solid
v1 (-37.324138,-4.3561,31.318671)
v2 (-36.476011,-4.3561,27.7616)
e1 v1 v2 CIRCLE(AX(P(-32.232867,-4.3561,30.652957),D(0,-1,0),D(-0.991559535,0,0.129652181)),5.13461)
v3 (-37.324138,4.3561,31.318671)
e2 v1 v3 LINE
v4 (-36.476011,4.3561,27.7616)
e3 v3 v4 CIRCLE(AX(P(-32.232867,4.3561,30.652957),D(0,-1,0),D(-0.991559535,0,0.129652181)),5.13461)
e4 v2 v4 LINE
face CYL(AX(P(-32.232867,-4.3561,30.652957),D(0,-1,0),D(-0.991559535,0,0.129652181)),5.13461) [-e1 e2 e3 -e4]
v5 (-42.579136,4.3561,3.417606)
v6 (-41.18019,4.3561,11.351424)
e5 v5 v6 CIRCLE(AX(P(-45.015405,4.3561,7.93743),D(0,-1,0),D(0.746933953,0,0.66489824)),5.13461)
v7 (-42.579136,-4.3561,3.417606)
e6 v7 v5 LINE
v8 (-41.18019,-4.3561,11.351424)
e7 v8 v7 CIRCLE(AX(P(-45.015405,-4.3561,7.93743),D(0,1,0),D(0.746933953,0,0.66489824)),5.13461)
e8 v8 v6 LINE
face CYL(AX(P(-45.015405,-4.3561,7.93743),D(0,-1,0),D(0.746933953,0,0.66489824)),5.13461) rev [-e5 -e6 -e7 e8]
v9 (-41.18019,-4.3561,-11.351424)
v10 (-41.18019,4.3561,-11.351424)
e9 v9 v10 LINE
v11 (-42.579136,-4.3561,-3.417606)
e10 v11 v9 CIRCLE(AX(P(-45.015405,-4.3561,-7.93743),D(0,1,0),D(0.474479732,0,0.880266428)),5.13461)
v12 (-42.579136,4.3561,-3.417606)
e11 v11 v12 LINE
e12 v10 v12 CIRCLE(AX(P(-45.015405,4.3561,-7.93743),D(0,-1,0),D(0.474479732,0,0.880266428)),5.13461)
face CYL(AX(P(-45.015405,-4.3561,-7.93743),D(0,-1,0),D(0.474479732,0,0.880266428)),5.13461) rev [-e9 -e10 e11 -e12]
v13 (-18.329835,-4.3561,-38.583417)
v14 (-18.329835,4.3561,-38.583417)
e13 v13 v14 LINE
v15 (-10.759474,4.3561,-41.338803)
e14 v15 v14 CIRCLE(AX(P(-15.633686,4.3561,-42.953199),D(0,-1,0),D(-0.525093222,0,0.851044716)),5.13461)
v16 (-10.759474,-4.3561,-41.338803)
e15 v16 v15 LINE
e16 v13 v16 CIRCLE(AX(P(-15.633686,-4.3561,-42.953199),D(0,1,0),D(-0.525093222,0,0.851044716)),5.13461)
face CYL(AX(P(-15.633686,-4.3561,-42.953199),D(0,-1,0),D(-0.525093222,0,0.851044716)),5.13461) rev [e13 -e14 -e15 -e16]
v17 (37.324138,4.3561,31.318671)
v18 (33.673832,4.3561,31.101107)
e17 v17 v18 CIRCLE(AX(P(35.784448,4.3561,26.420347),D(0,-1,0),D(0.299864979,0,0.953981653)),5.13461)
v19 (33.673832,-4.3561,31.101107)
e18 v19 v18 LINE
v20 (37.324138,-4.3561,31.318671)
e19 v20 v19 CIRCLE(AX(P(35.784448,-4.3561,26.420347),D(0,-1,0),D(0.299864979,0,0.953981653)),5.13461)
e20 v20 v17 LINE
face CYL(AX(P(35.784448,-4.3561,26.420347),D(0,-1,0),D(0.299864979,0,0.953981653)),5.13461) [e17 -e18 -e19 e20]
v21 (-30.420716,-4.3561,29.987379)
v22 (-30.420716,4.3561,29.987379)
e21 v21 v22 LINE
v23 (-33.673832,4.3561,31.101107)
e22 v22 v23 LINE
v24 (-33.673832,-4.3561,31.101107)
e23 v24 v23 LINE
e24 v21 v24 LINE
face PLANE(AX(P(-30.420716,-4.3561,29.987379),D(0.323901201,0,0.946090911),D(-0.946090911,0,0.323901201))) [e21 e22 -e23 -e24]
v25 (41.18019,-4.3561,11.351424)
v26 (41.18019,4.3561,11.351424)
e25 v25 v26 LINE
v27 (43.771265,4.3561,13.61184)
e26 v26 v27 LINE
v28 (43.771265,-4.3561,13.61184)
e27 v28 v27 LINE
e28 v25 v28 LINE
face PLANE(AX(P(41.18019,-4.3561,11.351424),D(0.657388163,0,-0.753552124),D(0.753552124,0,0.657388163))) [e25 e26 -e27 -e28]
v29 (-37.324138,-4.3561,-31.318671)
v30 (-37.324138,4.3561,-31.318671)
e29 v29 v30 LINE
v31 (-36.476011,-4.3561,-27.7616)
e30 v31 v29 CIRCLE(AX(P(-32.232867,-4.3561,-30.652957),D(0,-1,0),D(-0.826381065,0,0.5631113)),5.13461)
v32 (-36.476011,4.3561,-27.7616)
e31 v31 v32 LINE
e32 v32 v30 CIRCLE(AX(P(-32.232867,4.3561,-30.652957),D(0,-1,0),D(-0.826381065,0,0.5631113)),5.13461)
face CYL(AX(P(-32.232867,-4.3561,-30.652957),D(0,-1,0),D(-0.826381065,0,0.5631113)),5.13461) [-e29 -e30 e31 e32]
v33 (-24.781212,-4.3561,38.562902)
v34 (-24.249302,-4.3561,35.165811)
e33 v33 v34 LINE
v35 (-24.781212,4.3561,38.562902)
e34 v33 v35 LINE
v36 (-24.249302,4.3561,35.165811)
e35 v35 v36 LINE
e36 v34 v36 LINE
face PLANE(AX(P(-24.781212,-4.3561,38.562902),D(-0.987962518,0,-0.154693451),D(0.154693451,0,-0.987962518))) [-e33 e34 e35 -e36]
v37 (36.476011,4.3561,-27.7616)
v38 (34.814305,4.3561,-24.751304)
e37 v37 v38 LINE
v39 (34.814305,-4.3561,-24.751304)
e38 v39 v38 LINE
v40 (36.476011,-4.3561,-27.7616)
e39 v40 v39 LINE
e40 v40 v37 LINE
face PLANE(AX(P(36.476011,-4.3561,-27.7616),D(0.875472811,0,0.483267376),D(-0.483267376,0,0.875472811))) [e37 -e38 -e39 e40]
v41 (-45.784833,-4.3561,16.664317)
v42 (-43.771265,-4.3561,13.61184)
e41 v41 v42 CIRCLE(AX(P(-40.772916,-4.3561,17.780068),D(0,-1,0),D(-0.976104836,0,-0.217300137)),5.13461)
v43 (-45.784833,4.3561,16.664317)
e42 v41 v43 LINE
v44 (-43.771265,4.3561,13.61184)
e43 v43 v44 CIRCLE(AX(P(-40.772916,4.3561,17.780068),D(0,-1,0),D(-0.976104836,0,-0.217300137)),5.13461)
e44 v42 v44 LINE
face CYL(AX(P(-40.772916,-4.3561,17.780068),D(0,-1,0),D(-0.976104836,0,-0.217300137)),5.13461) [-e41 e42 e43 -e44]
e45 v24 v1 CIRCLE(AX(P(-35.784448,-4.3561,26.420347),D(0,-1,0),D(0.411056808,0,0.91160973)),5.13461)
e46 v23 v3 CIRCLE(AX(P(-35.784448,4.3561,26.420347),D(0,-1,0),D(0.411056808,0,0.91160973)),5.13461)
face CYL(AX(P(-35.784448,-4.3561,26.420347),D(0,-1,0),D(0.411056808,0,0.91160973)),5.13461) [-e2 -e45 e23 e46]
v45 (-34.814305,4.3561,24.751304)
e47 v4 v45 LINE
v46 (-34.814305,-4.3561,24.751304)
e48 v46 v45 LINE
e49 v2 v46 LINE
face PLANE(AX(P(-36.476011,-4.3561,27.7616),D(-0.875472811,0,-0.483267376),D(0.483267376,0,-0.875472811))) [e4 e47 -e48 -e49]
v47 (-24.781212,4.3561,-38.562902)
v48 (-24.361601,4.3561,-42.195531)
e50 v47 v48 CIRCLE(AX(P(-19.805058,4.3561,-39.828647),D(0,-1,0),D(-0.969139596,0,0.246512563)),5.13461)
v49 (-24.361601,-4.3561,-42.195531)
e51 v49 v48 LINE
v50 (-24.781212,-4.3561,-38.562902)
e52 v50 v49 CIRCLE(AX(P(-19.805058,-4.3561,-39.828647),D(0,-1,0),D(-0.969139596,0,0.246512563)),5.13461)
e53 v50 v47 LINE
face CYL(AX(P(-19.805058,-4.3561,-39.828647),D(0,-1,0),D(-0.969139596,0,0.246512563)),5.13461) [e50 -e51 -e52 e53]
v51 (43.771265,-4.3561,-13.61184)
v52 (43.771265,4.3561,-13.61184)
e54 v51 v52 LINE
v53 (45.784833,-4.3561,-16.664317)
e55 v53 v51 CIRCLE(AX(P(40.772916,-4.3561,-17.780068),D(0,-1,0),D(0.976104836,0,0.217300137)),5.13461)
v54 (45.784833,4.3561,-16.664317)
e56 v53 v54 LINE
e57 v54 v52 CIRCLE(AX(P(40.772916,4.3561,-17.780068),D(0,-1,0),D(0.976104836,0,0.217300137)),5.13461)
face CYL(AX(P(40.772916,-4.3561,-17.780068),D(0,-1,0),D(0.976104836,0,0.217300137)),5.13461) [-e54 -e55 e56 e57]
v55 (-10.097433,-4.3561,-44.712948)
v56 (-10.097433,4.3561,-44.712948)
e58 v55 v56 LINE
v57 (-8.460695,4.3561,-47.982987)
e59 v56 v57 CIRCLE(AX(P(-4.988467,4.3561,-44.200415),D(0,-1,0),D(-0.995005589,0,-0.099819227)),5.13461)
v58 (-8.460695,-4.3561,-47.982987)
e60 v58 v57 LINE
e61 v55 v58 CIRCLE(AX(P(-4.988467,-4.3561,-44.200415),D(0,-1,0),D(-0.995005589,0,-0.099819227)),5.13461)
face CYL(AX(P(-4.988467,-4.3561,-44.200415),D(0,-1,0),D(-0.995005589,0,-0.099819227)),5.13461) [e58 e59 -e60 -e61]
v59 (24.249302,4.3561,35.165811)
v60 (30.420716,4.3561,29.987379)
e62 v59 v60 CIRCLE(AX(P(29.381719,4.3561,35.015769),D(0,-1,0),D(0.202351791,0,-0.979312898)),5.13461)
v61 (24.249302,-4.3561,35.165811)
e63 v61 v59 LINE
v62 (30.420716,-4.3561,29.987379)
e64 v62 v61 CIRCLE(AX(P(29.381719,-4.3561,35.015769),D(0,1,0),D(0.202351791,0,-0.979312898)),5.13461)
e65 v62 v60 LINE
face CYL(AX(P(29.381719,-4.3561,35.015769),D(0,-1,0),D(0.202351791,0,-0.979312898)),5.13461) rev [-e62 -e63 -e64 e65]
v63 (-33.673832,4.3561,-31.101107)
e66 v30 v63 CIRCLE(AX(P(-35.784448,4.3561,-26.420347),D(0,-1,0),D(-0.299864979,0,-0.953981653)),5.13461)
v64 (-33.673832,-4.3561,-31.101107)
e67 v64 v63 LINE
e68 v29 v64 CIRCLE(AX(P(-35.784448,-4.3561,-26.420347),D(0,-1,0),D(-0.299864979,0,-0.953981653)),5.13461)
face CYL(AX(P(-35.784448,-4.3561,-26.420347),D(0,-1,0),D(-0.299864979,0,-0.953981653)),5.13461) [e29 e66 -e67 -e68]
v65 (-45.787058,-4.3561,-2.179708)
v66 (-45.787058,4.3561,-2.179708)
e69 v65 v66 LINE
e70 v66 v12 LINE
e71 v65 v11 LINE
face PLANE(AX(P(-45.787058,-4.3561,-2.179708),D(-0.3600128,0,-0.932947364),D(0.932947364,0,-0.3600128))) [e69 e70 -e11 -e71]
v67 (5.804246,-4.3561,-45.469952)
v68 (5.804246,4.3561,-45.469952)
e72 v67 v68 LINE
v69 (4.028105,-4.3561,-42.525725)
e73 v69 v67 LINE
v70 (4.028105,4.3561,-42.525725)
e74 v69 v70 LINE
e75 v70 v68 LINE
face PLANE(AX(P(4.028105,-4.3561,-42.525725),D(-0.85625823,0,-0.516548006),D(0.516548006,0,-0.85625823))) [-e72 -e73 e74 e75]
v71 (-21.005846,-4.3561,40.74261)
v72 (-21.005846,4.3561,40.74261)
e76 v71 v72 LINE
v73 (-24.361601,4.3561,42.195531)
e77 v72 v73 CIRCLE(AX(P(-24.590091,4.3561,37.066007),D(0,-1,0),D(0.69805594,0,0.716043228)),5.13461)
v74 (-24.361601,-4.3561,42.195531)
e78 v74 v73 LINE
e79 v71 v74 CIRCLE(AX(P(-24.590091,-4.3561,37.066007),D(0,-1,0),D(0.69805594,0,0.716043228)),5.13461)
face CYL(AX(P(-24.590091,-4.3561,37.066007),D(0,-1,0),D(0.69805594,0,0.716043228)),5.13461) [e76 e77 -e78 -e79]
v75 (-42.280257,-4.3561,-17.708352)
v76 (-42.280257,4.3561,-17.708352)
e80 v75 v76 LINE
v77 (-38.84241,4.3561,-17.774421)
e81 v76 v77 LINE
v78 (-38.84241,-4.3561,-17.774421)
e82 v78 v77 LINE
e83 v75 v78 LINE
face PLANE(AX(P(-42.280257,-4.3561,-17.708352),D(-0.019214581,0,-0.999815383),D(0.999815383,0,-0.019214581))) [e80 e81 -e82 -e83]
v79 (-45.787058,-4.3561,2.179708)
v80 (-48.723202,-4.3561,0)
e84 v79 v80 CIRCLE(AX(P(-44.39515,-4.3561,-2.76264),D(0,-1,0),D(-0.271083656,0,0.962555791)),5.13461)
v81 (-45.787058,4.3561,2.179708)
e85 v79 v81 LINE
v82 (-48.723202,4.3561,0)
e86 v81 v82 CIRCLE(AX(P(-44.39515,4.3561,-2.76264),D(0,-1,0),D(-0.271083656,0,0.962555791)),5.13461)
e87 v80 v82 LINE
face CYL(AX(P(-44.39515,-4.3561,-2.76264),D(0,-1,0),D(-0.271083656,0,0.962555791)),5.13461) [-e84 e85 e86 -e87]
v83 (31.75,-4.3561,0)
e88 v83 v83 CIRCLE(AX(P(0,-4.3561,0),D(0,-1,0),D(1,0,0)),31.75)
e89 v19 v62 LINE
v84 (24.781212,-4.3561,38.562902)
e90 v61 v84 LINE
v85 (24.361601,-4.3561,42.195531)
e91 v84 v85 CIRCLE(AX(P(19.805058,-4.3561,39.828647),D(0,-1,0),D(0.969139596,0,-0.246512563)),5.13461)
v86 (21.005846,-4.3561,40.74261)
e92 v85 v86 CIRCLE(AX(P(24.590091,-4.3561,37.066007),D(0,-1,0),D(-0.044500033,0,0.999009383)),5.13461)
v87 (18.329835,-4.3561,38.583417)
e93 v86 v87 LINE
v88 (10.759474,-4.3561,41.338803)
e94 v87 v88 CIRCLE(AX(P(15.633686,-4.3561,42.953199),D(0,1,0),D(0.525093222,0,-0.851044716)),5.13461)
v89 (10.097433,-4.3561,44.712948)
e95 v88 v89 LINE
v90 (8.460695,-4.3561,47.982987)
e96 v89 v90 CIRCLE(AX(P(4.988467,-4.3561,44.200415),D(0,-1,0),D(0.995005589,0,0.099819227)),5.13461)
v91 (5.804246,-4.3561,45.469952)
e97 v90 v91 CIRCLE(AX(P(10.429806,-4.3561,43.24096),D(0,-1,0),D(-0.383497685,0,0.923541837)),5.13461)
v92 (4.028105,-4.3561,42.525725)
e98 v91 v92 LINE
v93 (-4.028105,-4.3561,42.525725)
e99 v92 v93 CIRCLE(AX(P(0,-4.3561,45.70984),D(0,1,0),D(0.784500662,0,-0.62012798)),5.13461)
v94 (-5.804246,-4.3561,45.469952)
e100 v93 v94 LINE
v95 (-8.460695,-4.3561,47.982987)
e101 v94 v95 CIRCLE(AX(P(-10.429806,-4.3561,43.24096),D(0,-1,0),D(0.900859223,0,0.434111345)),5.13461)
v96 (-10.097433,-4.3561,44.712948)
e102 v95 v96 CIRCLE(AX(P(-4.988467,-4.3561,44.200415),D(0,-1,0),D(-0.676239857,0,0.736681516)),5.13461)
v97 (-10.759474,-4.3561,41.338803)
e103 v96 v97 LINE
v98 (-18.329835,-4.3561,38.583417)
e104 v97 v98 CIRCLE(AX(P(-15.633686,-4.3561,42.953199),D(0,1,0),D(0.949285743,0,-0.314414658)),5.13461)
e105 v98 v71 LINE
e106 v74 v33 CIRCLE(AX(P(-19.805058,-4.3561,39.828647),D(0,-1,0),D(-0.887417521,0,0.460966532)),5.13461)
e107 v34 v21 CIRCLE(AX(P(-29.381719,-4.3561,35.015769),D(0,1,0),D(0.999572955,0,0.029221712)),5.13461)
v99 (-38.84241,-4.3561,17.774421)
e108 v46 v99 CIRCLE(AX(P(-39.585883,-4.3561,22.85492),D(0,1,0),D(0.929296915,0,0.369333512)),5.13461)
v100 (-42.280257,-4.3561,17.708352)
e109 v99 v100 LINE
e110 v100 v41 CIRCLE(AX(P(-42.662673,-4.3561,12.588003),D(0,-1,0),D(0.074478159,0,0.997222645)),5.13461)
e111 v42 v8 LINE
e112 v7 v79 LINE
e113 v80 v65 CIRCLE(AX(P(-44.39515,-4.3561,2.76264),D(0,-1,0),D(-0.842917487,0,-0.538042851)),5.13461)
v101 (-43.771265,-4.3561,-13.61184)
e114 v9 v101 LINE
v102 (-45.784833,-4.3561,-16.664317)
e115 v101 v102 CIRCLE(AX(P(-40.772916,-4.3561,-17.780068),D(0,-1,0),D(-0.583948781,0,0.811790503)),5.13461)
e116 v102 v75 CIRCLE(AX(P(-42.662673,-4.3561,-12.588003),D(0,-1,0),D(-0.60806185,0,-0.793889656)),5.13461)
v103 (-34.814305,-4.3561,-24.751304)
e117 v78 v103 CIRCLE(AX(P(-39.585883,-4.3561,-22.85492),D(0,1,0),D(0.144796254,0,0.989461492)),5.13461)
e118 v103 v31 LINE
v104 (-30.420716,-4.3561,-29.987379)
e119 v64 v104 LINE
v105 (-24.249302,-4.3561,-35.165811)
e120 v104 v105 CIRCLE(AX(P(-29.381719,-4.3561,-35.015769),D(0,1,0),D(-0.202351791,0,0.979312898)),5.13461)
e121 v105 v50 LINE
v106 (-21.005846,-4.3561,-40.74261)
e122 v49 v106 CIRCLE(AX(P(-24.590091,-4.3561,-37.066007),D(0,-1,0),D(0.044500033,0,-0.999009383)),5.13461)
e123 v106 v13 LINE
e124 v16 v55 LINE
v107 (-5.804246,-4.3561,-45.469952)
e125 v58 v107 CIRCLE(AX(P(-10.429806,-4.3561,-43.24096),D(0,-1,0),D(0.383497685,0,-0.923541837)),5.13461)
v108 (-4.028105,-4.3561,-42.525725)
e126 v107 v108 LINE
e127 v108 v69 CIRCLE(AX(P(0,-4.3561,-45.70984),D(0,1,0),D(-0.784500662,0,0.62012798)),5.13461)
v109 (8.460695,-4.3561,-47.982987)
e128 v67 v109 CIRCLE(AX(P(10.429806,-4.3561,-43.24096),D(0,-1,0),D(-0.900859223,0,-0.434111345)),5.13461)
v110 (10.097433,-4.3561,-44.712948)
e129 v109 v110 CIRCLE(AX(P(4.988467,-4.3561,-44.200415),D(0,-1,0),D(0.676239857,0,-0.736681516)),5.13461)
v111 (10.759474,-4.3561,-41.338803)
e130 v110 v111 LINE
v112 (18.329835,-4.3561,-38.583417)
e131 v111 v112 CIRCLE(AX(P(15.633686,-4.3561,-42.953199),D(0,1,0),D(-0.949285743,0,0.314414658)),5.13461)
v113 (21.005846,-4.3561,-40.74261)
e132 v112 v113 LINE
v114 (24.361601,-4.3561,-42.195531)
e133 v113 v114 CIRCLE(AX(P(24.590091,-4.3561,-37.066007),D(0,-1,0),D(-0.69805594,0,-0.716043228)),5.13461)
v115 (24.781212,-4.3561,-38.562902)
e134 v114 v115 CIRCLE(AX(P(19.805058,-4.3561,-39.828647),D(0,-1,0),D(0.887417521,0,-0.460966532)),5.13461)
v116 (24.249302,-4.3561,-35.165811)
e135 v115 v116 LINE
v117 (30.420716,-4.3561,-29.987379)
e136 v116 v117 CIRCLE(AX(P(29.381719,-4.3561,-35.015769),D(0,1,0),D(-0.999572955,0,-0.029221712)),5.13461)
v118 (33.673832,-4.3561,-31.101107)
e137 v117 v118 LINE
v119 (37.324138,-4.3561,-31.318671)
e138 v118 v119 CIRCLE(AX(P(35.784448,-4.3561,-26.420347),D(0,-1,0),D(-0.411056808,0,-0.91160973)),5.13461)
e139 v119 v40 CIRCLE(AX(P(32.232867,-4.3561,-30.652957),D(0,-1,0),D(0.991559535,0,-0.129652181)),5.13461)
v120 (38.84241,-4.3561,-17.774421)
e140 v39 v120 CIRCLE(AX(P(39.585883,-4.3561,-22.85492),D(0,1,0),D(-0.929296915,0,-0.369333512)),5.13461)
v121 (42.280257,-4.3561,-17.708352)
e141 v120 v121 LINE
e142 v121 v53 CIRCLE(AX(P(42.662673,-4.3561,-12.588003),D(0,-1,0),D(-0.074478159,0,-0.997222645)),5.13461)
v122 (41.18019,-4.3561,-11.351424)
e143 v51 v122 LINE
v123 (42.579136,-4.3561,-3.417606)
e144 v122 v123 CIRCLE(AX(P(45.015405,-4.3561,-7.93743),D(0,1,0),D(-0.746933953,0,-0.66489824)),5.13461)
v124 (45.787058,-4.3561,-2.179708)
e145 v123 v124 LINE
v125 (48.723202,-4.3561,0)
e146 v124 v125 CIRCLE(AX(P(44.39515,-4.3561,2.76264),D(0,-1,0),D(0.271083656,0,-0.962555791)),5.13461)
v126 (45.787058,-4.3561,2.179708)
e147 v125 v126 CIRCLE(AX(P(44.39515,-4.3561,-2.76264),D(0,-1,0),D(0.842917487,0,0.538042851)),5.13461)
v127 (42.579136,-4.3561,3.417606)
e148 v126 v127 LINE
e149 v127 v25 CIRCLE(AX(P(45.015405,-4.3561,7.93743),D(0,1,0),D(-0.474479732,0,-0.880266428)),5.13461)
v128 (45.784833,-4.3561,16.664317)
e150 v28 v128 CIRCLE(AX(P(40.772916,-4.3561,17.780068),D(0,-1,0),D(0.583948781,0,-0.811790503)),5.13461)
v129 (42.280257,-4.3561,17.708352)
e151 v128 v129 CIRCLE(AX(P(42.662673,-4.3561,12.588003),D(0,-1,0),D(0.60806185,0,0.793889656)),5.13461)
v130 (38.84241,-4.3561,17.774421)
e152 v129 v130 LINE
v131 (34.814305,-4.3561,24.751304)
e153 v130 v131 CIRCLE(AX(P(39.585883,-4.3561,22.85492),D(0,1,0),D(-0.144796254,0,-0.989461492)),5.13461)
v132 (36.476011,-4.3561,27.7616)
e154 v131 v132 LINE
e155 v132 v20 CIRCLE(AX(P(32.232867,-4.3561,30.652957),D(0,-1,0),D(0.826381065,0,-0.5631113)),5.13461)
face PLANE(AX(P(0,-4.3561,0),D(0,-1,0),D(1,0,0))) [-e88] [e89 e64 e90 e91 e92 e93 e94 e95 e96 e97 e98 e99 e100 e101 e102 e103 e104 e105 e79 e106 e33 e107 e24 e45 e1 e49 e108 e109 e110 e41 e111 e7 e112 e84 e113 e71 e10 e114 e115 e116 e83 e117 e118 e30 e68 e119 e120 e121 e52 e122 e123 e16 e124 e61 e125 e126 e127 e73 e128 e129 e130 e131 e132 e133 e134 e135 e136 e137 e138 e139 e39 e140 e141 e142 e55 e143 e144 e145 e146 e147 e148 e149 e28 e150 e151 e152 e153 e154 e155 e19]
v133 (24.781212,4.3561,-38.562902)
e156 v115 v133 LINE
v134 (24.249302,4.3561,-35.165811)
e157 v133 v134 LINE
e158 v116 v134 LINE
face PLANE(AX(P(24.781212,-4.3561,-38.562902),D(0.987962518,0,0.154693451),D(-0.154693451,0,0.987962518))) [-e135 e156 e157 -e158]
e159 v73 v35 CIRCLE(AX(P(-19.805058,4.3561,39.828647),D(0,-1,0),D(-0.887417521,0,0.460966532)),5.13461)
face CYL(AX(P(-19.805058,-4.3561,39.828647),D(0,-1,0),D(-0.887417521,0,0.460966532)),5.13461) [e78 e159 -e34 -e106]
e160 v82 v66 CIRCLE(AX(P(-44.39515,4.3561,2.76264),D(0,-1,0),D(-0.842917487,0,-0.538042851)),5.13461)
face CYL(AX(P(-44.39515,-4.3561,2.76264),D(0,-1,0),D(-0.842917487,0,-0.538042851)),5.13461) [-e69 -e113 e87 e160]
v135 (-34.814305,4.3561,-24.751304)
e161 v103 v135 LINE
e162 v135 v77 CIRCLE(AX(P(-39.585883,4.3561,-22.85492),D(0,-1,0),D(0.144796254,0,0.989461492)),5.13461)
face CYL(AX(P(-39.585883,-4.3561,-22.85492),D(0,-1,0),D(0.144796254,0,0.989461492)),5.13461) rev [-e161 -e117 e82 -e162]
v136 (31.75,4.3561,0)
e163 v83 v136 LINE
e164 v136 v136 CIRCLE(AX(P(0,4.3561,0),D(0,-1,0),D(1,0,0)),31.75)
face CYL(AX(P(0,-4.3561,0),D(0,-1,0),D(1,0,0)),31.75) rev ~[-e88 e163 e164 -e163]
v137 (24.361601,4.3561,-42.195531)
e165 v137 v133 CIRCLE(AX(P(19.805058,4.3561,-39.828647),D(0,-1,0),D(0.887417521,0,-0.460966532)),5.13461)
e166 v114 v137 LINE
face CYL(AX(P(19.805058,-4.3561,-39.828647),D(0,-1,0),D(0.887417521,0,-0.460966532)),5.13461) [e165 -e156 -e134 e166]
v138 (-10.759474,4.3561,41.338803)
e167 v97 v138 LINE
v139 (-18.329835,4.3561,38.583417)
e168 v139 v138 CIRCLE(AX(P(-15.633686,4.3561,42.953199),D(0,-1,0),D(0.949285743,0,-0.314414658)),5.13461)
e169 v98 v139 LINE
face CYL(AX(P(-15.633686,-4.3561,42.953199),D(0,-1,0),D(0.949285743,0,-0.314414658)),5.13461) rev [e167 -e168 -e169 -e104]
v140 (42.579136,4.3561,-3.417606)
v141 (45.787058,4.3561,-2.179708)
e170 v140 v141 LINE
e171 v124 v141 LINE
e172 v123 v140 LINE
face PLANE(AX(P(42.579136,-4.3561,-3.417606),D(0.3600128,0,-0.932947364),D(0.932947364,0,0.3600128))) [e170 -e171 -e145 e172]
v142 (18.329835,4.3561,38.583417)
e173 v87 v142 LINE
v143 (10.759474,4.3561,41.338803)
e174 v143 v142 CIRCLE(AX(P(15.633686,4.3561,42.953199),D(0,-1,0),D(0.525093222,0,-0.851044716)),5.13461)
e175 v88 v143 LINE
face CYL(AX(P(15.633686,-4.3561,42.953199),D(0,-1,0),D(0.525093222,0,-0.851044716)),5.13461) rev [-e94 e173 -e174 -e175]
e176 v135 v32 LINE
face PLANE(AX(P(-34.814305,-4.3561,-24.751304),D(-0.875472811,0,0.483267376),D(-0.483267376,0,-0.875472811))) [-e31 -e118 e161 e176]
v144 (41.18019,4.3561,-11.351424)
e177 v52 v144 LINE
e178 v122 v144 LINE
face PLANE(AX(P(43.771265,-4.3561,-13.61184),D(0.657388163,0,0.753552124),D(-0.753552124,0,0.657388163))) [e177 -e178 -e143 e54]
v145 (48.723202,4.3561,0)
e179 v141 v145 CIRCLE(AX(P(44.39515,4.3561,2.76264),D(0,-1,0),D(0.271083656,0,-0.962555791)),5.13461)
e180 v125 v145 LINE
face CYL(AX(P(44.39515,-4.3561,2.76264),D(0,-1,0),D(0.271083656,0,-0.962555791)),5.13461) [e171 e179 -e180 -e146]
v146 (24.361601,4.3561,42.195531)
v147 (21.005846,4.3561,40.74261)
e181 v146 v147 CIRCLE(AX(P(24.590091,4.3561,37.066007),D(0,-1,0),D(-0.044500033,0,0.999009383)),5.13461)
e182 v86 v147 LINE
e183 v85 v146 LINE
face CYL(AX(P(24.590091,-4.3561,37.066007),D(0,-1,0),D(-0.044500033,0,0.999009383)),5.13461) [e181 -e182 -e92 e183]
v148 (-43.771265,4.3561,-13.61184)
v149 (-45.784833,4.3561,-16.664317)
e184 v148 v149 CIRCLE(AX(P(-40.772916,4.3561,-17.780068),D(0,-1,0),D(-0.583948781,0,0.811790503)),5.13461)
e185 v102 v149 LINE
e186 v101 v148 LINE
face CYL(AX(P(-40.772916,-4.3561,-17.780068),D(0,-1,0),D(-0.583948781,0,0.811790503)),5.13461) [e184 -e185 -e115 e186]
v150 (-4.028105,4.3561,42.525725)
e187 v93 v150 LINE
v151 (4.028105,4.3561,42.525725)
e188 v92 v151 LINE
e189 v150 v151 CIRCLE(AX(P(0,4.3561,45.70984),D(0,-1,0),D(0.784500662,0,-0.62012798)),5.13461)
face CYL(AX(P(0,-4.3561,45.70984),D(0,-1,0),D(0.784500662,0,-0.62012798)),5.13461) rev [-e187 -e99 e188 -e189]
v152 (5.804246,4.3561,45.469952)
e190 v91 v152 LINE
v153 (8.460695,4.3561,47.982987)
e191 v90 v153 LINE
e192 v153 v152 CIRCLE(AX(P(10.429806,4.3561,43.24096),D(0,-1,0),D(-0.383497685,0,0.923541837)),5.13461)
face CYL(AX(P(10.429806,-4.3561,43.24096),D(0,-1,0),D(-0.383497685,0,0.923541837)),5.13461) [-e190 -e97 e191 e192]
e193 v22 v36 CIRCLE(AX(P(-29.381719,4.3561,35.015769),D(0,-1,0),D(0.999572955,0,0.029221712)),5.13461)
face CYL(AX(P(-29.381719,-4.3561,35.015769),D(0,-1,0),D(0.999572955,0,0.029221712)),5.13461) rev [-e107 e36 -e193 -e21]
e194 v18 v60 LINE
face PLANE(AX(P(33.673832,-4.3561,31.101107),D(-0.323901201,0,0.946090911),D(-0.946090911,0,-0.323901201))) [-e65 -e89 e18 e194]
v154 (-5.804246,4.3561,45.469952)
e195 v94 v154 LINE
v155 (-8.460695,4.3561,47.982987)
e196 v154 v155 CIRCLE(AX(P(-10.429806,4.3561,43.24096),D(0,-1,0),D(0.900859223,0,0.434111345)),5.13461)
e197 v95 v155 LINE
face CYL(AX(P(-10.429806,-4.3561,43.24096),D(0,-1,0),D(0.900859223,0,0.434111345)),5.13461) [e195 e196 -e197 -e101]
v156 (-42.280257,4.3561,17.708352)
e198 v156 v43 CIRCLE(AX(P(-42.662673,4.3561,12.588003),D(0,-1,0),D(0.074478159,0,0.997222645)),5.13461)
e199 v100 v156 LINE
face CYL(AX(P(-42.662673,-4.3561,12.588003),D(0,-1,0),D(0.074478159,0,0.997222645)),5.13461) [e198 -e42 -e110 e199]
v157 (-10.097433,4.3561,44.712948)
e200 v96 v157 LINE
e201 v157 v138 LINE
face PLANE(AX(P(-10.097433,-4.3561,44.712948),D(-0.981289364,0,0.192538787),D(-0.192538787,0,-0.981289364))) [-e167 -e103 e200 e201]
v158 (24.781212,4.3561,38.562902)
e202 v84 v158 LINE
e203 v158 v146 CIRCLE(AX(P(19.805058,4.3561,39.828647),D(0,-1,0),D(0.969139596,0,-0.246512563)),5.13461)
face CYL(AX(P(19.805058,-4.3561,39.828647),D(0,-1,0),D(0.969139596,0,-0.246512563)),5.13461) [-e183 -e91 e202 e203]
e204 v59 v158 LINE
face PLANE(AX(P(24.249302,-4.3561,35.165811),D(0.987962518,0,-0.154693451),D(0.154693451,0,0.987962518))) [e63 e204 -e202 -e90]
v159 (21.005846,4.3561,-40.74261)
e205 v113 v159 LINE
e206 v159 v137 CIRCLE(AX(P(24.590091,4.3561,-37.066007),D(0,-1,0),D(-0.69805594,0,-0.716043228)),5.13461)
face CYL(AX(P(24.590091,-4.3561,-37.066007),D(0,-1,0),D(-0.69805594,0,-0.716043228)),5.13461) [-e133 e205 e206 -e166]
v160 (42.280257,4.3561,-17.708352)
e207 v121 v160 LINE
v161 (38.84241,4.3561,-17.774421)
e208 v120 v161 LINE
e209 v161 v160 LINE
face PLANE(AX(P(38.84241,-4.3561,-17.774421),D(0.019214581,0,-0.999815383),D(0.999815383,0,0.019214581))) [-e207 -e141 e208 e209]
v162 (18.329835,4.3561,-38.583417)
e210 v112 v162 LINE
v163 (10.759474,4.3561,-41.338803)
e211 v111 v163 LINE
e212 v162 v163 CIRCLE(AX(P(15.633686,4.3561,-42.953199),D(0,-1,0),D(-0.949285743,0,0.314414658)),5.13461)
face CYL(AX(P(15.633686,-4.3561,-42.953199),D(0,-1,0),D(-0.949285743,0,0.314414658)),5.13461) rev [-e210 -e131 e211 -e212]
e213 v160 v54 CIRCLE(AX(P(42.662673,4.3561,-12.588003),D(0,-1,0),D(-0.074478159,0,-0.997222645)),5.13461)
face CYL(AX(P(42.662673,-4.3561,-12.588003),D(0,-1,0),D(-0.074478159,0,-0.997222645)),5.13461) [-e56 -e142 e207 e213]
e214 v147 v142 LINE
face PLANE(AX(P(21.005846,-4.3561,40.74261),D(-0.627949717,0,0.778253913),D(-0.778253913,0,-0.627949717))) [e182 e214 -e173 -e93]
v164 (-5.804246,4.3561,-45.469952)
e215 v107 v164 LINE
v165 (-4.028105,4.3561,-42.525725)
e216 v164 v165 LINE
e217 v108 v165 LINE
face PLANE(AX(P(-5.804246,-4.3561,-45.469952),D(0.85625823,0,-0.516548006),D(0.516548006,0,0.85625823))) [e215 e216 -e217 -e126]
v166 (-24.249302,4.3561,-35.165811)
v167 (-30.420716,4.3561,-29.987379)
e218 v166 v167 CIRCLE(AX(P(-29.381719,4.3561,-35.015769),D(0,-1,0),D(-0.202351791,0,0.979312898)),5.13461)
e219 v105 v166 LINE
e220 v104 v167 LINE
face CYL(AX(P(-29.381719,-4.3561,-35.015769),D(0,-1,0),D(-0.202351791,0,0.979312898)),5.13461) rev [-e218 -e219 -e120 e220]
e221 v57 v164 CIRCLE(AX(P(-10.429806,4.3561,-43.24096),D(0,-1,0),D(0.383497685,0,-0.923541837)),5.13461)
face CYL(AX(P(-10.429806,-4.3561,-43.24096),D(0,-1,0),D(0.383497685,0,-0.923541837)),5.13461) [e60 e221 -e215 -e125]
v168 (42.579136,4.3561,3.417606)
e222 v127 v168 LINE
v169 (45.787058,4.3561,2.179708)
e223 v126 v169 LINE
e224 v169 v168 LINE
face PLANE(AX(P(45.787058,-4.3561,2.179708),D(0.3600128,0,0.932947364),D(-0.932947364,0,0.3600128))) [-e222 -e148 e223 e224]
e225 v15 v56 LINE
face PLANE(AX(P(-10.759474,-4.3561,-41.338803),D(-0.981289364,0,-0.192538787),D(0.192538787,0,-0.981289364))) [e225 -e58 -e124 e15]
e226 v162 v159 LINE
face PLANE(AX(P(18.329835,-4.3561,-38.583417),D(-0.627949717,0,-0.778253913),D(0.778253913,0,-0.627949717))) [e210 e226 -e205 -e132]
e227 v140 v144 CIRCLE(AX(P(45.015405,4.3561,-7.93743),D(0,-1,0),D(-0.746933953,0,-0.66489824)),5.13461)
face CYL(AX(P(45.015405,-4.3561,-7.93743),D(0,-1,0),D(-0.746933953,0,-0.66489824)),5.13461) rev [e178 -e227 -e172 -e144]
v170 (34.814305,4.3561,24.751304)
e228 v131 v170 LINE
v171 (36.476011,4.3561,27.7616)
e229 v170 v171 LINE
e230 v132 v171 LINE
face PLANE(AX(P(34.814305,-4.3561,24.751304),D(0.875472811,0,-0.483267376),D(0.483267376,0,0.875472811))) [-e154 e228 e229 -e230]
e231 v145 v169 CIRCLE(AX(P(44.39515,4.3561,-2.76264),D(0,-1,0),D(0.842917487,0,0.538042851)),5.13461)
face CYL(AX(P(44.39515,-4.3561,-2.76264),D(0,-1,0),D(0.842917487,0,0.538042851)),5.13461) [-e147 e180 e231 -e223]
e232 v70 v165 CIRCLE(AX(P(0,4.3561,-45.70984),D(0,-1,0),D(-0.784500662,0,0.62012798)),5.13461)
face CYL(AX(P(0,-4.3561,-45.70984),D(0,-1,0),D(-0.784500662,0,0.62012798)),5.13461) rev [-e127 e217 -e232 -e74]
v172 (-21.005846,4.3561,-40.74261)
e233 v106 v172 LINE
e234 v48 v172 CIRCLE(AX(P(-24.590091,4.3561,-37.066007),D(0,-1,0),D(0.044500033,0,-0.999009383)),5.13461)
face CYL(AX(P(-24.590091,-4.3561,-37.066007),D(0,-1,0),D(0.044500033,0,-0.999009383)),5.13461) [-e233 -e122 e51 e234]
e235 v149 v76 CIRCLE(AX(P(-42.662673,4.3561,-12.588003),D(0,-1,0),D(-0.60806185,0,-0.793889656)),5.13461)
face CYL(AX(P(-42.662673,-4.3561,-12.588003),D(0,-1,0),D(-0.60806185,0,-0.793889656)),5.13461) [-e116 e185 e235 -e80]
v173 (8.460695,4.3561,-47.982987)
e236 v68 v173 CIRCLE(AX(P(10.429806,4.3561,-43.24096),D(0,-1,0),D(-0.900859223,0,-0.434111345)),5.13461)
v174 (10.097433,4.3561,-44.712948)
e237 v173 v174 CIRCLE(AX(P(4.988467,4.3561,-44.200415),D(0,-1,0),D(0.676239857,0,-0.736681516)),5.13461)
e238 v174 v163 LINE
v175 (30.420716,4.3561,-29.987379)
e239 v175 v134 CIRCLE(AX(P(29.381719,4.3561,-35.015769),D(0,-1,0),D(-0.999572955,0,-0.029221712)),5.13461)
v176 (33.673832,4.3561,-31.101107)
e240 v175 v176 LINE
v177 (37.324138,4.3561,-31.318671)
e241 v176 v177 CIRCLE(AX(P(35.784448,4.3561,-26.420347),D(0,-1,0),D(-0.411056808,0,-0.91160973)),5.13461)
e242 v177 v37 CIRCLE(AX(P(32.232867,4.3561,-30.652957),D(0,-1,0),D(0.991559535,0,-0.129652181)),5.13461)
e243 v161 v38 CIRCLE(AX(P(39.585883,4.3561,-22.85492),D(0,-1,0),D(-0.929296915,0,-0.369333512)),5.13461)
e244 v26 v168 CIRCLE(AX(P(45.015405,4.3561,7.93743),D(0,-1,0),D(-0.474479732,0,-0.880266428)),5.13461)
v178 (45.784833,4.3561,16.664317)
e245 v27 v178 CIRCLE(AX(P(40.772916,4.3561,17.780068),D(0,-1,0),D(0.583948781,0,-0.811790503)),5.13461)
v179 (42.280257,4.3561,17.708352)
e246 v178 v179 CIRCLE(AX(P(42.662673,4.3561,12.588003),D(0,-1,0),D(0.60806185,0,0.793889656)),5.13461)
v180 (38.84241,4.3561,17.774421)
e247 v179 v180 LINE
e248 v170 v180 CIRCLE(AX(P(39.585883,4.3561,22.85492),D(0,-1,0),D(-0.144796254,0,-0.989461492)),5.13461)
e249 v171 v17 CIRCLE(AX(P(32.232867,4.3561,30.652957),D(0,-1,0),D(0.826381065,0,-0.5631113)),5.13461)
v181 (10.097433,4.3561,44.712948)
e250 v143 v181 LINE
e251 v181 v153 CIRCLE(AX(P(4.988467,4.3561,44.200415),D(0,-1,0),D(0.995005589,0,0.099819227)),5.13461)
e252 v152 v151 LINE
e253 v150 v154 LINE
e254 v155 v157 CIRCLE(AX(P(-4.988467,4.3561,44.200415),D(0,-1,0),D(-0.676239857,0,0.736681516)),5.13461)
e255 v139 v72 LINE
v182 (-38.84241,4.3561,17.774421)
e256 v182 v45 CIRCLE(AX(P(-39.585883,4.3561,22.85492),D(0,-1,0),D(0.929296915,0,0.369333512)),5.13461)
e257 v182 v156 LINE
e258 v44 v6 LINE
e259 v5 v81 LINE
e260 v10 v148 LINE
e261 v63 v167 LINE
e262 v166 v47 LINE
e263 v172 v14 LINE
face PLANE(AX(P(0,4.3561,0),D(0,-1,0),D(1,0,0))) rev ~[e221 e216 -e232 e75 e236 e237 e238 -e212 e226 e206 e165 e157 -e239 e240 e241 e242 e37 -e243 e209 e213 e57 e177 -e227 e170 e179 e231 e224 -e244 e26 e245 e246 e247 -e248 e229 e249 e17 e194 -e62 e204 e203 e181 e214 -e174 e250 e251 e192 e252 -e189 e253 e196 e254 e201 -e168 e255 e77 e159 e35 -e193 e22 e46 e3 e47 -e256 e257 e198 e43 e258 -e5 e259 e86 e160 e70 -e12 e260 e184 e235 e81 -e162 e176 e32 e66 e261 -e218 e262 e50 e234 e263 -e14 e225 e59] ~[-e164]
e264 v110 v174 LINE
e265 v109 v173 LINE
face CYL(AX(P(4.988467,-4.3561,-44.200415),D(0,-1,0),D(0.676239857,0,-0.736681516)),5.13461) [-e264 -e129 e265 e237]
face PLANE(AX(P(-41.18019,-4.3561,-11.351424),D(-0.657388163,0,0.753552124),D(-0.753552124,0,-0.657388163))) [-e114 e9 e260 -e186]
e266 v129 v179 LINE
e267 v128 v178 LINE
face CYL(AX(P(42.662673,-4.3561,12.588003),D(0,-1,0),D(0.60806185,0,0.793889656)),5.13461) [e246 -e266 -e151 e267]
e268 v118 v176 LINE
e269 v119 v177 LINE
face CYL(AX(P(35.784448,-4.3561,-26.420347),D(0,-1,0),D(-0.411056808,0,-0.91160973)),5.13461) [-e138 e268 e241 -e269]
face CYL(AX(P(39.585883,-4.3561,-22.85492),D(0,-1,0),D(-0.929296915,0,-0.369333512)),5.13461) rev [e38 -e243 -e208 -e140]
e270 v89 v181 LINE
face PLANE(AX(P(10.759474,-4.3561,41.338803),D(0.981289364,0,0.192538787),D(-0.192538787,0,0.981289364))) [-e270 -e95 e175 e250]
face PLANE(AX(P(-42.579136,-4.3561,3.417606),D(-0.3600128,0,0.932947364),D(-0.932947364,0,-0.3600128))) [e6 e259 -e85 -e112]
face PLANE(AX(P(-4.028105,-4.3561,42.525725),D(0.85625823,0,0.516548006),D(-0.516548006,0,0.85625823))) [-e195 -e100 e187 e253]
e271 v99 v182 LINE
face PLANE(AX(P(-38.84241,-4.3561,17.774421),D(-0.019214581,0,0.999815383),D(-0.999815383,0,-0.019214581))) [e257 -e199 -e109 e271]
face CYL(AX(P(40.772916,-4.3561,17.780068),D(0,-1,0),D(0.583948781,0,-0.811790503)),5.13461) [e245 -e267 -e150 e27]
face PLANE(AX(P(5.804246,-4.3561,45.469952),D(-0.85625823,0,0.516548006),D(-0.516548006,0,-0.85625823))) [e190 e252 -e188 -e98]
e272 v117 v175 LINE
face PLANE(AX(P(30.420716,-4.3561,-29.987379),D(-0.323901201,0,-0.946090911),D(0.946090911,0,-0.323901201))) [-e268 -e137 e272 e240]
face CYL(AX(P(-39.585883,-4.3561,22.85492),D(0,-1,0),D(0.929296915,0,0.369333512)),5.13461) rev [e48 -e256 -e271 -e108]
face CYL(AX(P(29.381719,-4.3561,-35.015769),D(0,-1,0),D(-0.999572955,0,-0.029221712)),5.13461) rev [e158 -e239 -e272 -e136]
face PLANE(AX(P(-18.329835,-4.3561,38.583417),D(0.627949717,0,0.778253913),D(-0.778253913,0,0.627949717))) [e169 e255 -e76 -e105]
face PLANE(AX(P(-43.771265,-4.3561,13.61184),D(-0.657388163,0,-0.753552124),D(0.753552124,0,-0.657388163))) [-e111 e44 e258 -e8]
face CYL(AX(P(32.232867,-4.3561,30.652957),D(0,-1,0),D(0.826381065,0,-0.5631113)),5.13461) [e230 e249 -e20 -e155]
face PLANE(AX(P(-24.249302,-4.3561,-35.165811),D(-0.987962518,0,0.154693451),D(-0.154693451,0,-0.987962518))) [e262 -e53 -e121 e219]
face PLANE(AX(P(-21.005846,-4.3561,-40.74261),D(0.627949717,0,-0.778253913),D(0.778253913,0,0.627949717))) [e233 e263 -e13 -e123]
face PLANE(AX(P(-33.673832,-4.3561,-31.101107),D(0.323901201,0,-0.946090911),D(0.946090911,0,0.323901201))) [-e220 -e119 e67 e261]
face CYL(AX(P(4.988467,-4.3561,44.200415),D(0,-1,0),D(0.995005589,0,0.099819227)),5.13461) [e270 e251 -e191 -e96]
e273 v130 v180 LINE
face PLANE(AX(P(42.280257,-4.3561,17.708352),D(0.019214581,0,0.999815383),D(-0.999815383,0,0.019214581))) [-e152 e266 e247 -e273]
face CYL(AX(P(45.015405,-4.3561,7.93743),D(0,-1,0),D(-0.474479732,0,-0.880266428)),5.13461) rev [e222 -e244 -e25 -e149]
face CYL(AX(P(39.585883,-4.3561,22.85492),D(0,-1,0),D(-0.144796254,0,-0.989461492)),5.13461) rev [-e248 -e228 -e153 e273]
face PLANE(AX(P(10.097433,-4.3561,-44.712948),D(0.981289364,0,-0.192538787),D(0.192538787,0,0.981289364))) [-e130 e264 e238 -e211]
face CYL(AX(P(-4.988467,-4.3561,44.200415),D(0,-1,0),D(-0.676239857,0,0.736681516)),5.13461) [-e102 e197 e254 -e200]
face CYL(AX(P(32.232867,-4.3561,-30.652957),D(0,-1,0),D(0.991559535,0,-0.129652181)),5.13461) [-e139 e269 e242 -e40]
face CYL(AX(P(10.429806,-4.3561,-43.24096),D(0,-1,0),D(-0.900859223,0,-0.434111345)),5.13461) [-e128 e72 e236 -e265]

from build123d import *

# Parameters (mm, degrees)
F0_R     = 49.784
F1_DEPTH = 4.3561
F2_R     = 31.75
F3_DEPTH = 8.7132
F4_R     = 31.75
F5_DEPTH = 8.7132


with BuildPart() as f1:
    # F0 (on Front) → F1 (new body, symmetric)
    with BuildSketch(Plane.XZ):
        Circle(F0_R)
    extrude(amount=F1_DEPTH, both=True)

    # F2 (on face) → F3 (cut, through all)
    with BuildSketch(Plane.XZ.offset(4.3561)):
        Circle(F2_R)
    extrude(amount=-F3_DEPTH, mode=Mode.SUBTRACT)

    # F4 (on face) → F5 (intersect, through all)
    with BuildSketch(Plane.XZ.offset(4.3561)):
        with BuildLine():
            Line((-4.0281049428, 42.525724672), (-5.8042455242, 45.4699524537))
            ThreePointArc((-5.8042455242, 45.4699524537), (-6.9011720072, 46.9709680265), (-8.4606952501, 47.9829871535))
            ThreePointArc((-8.4606952501, 47.9829871535), (-9.5800368067, 46.4986118846), (-10.0974329669, 44.7129476743))
            Line((-10.0974329669, 44.7129476743), (-10.7594739569, 41.3388026977))
            ThreePointArc((-10.7594739569, 41.3388026977), (-13.8775459801, 38.1282442177), (-18.3298349378, 38.583416638))
            Line((-18.3298349378, 38.583416638), (-21.0058463435, 40.7426099021))
            ThreePointArc((-21.0058463435, 40.7426099021), (-22.5499976265, 41.7779322066), (-24.3616010367, 42.1955307493))
            ThreePointArc((-24.3616010367, 42.1955307493), (-24.9057517953, 40.4178369031), (-24.78121202, 38.5629015125))
            Line((-24.78121202, 38.5629015125), (-24.2493015044, 35.1658110223))
            ThreePointArc((-24.2493015044, 35.1658110223), (-26.0812551042, 31.0824294698), (-30.4207163198, 29.9873791269))
            Line((-30.4207163198, 29.9873791269), (-33.6738320805, 31.1011072995))
            ThreePointArc((-33.6738320805, 31.1011072995), (-35.4789607295, 31.5458611861), (-37.3241381993, 31.318670597))
            ThreePointArc((-37.3241381993, 31.318670597), (-37.2274655477, 29.4620742873), (-36.4760111717, 27.7616003006))
            Line((-36.4760111717, 27.7616003006), (-34.8143054089, 24.7513035456))
            ThreePointArc((-34.8143054089, 24.7513035456), (-35.1391799444, 20.287615), (-38.8424103517, 17.7744211264))
            Line((-38.8424103517, 17.7744211264), (-42.2802566958, 17.7083521531))
            ThreePointArc((-42.2802566958, 17.7083521531), (-44.1286375548, 17.5088937391), (-45.7848334494, 16.6643165564))
            ThreePointArc((-45.7848334494, 16.6643165564), (-45.0589975361, 14.9527506986), (-43.7712650475, 13.6118403748))
            Line((-43.7712650475, 13.6118403748), (-41.1801902767, 11.3514235709))
            ThreePointArc((-41.1801902767, 11.3514235709), (-39.9588010843, 7.0458147479), (-42.5791364422, 3.4176056157))
            Line((-42.5791364422, 3.4176056157), (-45.7870583635, 2.1797083896))
            ThreePointArc((-45.7870583635, 2.1797083896), (-47.4557494218, 1.3600953035), (-48.7232020734, 0))
            ThreePointArc((-48.7232020734, 0), (-47.4557494218, -1.3600953035), (-45.7870583635, -2.1797083896))
            Line((-45.7870583635, -2.1797083896), (-42.5791364422, -3.4176056157))
            ThreePointArc((-42.5791364422, -3.4176056157), (-39.9588010843, -7.0458147479), (-41.1801902767, -11.3514235709))
            Line((-41.1801902767, -11.3514235709), (-43.7712650475, -13.6118403748))
            ThreePointArc((-43.7712650475, -13.6118403748), (-45.0589975361, -14.9527506986), (-45.7848334494, -16.6643165564))
            ThreePointArc((-45.7848334494, -16.6643165564), (-44.1286375548, -17.5088937391), (-42.2802566958, -17.7083521531))
            Line((-42.2802566958, -17.7083521531), (-38.8424103517, -17.7744211264))
            ThreePointArc((-38.8424103517, -17.7744211264), (-35.1391799444, -20.287615), (-34.8143054089, -24.7513035456))
            Line((-34.8143054089, -24.7513035456), (-36.4760111717, -27.7616003006))
            ThreePointArc((-36.4760111717, -27.7616003006), (-37.2274655477, -29.4620742873), (-37.3241381993, -31.318670597))
            ThreePointArc((-37.3241381993, -31.318670597), (-35.4789607295, -31.5458611861), (-33.6738320805, -31.1011072995))
            Line((-33.6738320805, -31.1011072995), (-30.4207163198, -29.9873791269))
            ThreePointArc((-30.4207163198, -29.9873791269), (-26.0812551042, -31.0824294698), (-24.2493015044, -35.1658110223))
            Line((-24.2493015044, -35.1658110223), (-24.78121202, -38.5629015125))
            ThreePointArc((-24.78121202, -38.5629015125), (-24.9057517953, -40.4178369031), (-24.3616010367, -42.1955307493))
            ThreePointArc((-24.3616010367, -42.1955307493), (-22.5499976265, -41.7779322066), (-21.0058463435, -40.7426099021))
            Line((-21.0058463435, -40.7426099021), (-18.3298349378, -38.583416638))
            ThreePointArc((-18.3298349378, -38.583416638), (-13.8775459801, -38.1282442177), (-10.7594739569, -41.3388026977))
            Line((-10.7594739569, -41.3388026977), (-10.0974329669, -44.7129476743))
            ThreePointArc((-10.0974329669, -44.7129476743), (-9.5800368067, -46.4986118846), (-8.4606952501, -47.9829871535))
            ThreePointArc((-8.4606952501, -47.9829871535), (-6.9011720072, -46.9709680265), (-5.8042455242, -45.4699524537))
            Line((-5.8042455242, -45.4699524537), (-4.0281049428, -42.525724672))
            ThreePointArc((-4.0281049428, -42.525724672), (0, -40.57523), (4.0281049428, -42.525724672))
            Line((4.0281049428, -42.525724672), (5.8042455242, -45.4699524537))
            ThreePointArc((5.8042455242, -45.4699524537), (6.9011720072, -46.9709680265), (8.4606952501, -47.9829871535))
            ThreePointArc((8.4606952501, -47.9829871535), (9.5800368067, -46.4986118846), (10.0974329669, -44.7129476743))
            Line((10.0974329669, -44.7129476743), (10.7594739569, -41.3388026977))
            ThreePointArc((10.7594739569, -41.3388026977), (13.8775459801, -38.1282442177), (18.3298349378, -38.583416638))
            Line((18.3298349378, -38.583416638), (21.0058463435, -40.7426099021))
            ThreePointArc((21.0058463435, -40.7426099021), (22.5499976265, -41.7779322066), (24.3616010367, -42.1955307493))
            ThreePointArc((24.3616010367, -42.1955307493), (24.9057517953, -40.4178369031), (24.78121202, -38.5629015125))
            Line((24.78121202, -38.5629015125), (24.2493015044, -35.1658110223))
            ThreePointArc((24.2493015044, -35.1658110223), (26.0812551042, -31.0824294698), (30.4207163198, -29.9873791269))
            Line((30.4207163198, -29.9873791269), (33.6738320805, -31.1011072995))
            ThreePointArc((33.6738320805, -31.1011072995), (35.4789607295, -31.5458611861), (37.3241381993, -31.318670597))
            ThreePointArc((37.3241381993, -31.318670597), (37.2274655477, -29.4620742873), (36.4760111717, -27.7616003006))
            Line((36.4760111717, -27.7616003006), (34.8143054089, -24.7513035456))
            ThreePointArc((34.8143054089, -24.7513035456), (35.1391799444, -20.287615), (38.8424103517, -17.7744211264))
            Line((38.8424103517, -17.7744211264), (42.2802566958, -17.7083521531))
            ThreePointArc((42.2802566958, -17.7083521531), (44.1286375548, -17.5088937391), (45.7848334494, -16.6643165564))
            ThreePointArc((45.7848334494, -16.6643165564), (45.0589975361, -14.9527506986), (43.7712650475, -13.6118403748))
            Line((43.7712650475, -13.6118403748), (41.1801902767, -11.3514235709))
            ThreePointArc((41.1801902767, -11.3514235709), (39.9588010843, -7.0458147479), (42.5791364422, -3.4176056157))
            Line((42.5791364422, -3.4176056157), (45.7870583635, -2.1797083896))
            ThreePointArc((45.7870583635, -2.1797083896), (47.4557494218, -1.3600953035), (48.7232020734, 0))
            ThreePointArc((48.7232020734, 0), (47.4557494218, 1.3600953035), (45.7870583635, 2.1797083896))
            Line((45.7870583635, 2.1797083896), (42.5791364422, 3.4176056157))
            ThreePointArc((42.5791364422, 3.4176056157), (39.9588010843, 7.0458147479), (41.1801902767, 11.3514235709))
            Line((41.1801902767, 11.3514235709), (43.7712650475, 13.6118403748))
            ThreePointArc((43.7712650475, 13.6118403748), (45.0589975361, 14.9527506986), (45.7848334494, 16.6643165564))
            ThreePointArc((45.7848334494, 16.6643165564), (44.1286375548, 17.5088937391), (42.2802566958, 17.7083521531))
            Line((42.2802566958, 17.7083521531), (38.8424103517, 17.7744211264))
            ThreePointArc((38.8424103517, 17.7744211264), (35.1391799444, 20.287615), (34.8143054089, 24.7513035456))
            Line((34.8143054089, 24.7513035456), (36.4760111717, 27.7616003006))
            ThreePointArc((36.4760111717, 27.7616003006), (37.2274655477, 29.4620742873), (37.3241381993, 31.318670597))
            ThreePointArc((37.3241381993, 31.318670597), (35.4789607295, 31.5458611861), (33.6738320805, 31.1011072995))
            Line((33.6738320805, 31.1011072995), (30.4207163198, 29.9873791269))
            ThreePointArc((30.4207163198, 29.9873791269), (26.0812551042, 31.0824294698), (24.2493015044, 35.1658110223))
            Line((24.2493015044, 35.1658110223), (24.78121202, 38.5629015125))
            ThreePointArc((24.78121202, 38.5629015125), (24.9057517953, 40.4178369031), (24.3616010367, 42.1955307493))
            ThreePointArc((24.3616010367, 42.1955307493), (22.5499976265, 41.7779322066), (21.0058463435, 40.7426099021))
            Line((21.0058463435, 40.7426099021), (18.3298349378, 38.583416638))
            ThreePointArc((18.3298349378, 38.583416638), (13.8775459801, 38.1282442177), (10.7594739569, 41.3388026977))
            Line((10.7594739569, 41.3388026977), (10.0974329669, 44.7129476743))
            ThreePointArc((10.0974329669, 44.7129476743), (9.5800368067, 46.4986118846), (8.4606952501, 47.9829871535))
            ThreePointArc((8.4606952501, 47.9829871535), (6.9011720072, 46.9709680265), (5.8042455242, 45.4699524537))
            Line((5.8042455242, 45.4699524537), (4.0281049428, 42.525724672))
            ThreePointArc((4.0281049428, 42.525724672), (0, 40.57523), (-4.0281049428, 42.525724672))
        make_face()
        Circle(F4_R, mode=Mode.SUBTRACT)
    extrude(amount=-F5_DEPTH, mode=Mode.INTERSECT)


solid = f1.part
